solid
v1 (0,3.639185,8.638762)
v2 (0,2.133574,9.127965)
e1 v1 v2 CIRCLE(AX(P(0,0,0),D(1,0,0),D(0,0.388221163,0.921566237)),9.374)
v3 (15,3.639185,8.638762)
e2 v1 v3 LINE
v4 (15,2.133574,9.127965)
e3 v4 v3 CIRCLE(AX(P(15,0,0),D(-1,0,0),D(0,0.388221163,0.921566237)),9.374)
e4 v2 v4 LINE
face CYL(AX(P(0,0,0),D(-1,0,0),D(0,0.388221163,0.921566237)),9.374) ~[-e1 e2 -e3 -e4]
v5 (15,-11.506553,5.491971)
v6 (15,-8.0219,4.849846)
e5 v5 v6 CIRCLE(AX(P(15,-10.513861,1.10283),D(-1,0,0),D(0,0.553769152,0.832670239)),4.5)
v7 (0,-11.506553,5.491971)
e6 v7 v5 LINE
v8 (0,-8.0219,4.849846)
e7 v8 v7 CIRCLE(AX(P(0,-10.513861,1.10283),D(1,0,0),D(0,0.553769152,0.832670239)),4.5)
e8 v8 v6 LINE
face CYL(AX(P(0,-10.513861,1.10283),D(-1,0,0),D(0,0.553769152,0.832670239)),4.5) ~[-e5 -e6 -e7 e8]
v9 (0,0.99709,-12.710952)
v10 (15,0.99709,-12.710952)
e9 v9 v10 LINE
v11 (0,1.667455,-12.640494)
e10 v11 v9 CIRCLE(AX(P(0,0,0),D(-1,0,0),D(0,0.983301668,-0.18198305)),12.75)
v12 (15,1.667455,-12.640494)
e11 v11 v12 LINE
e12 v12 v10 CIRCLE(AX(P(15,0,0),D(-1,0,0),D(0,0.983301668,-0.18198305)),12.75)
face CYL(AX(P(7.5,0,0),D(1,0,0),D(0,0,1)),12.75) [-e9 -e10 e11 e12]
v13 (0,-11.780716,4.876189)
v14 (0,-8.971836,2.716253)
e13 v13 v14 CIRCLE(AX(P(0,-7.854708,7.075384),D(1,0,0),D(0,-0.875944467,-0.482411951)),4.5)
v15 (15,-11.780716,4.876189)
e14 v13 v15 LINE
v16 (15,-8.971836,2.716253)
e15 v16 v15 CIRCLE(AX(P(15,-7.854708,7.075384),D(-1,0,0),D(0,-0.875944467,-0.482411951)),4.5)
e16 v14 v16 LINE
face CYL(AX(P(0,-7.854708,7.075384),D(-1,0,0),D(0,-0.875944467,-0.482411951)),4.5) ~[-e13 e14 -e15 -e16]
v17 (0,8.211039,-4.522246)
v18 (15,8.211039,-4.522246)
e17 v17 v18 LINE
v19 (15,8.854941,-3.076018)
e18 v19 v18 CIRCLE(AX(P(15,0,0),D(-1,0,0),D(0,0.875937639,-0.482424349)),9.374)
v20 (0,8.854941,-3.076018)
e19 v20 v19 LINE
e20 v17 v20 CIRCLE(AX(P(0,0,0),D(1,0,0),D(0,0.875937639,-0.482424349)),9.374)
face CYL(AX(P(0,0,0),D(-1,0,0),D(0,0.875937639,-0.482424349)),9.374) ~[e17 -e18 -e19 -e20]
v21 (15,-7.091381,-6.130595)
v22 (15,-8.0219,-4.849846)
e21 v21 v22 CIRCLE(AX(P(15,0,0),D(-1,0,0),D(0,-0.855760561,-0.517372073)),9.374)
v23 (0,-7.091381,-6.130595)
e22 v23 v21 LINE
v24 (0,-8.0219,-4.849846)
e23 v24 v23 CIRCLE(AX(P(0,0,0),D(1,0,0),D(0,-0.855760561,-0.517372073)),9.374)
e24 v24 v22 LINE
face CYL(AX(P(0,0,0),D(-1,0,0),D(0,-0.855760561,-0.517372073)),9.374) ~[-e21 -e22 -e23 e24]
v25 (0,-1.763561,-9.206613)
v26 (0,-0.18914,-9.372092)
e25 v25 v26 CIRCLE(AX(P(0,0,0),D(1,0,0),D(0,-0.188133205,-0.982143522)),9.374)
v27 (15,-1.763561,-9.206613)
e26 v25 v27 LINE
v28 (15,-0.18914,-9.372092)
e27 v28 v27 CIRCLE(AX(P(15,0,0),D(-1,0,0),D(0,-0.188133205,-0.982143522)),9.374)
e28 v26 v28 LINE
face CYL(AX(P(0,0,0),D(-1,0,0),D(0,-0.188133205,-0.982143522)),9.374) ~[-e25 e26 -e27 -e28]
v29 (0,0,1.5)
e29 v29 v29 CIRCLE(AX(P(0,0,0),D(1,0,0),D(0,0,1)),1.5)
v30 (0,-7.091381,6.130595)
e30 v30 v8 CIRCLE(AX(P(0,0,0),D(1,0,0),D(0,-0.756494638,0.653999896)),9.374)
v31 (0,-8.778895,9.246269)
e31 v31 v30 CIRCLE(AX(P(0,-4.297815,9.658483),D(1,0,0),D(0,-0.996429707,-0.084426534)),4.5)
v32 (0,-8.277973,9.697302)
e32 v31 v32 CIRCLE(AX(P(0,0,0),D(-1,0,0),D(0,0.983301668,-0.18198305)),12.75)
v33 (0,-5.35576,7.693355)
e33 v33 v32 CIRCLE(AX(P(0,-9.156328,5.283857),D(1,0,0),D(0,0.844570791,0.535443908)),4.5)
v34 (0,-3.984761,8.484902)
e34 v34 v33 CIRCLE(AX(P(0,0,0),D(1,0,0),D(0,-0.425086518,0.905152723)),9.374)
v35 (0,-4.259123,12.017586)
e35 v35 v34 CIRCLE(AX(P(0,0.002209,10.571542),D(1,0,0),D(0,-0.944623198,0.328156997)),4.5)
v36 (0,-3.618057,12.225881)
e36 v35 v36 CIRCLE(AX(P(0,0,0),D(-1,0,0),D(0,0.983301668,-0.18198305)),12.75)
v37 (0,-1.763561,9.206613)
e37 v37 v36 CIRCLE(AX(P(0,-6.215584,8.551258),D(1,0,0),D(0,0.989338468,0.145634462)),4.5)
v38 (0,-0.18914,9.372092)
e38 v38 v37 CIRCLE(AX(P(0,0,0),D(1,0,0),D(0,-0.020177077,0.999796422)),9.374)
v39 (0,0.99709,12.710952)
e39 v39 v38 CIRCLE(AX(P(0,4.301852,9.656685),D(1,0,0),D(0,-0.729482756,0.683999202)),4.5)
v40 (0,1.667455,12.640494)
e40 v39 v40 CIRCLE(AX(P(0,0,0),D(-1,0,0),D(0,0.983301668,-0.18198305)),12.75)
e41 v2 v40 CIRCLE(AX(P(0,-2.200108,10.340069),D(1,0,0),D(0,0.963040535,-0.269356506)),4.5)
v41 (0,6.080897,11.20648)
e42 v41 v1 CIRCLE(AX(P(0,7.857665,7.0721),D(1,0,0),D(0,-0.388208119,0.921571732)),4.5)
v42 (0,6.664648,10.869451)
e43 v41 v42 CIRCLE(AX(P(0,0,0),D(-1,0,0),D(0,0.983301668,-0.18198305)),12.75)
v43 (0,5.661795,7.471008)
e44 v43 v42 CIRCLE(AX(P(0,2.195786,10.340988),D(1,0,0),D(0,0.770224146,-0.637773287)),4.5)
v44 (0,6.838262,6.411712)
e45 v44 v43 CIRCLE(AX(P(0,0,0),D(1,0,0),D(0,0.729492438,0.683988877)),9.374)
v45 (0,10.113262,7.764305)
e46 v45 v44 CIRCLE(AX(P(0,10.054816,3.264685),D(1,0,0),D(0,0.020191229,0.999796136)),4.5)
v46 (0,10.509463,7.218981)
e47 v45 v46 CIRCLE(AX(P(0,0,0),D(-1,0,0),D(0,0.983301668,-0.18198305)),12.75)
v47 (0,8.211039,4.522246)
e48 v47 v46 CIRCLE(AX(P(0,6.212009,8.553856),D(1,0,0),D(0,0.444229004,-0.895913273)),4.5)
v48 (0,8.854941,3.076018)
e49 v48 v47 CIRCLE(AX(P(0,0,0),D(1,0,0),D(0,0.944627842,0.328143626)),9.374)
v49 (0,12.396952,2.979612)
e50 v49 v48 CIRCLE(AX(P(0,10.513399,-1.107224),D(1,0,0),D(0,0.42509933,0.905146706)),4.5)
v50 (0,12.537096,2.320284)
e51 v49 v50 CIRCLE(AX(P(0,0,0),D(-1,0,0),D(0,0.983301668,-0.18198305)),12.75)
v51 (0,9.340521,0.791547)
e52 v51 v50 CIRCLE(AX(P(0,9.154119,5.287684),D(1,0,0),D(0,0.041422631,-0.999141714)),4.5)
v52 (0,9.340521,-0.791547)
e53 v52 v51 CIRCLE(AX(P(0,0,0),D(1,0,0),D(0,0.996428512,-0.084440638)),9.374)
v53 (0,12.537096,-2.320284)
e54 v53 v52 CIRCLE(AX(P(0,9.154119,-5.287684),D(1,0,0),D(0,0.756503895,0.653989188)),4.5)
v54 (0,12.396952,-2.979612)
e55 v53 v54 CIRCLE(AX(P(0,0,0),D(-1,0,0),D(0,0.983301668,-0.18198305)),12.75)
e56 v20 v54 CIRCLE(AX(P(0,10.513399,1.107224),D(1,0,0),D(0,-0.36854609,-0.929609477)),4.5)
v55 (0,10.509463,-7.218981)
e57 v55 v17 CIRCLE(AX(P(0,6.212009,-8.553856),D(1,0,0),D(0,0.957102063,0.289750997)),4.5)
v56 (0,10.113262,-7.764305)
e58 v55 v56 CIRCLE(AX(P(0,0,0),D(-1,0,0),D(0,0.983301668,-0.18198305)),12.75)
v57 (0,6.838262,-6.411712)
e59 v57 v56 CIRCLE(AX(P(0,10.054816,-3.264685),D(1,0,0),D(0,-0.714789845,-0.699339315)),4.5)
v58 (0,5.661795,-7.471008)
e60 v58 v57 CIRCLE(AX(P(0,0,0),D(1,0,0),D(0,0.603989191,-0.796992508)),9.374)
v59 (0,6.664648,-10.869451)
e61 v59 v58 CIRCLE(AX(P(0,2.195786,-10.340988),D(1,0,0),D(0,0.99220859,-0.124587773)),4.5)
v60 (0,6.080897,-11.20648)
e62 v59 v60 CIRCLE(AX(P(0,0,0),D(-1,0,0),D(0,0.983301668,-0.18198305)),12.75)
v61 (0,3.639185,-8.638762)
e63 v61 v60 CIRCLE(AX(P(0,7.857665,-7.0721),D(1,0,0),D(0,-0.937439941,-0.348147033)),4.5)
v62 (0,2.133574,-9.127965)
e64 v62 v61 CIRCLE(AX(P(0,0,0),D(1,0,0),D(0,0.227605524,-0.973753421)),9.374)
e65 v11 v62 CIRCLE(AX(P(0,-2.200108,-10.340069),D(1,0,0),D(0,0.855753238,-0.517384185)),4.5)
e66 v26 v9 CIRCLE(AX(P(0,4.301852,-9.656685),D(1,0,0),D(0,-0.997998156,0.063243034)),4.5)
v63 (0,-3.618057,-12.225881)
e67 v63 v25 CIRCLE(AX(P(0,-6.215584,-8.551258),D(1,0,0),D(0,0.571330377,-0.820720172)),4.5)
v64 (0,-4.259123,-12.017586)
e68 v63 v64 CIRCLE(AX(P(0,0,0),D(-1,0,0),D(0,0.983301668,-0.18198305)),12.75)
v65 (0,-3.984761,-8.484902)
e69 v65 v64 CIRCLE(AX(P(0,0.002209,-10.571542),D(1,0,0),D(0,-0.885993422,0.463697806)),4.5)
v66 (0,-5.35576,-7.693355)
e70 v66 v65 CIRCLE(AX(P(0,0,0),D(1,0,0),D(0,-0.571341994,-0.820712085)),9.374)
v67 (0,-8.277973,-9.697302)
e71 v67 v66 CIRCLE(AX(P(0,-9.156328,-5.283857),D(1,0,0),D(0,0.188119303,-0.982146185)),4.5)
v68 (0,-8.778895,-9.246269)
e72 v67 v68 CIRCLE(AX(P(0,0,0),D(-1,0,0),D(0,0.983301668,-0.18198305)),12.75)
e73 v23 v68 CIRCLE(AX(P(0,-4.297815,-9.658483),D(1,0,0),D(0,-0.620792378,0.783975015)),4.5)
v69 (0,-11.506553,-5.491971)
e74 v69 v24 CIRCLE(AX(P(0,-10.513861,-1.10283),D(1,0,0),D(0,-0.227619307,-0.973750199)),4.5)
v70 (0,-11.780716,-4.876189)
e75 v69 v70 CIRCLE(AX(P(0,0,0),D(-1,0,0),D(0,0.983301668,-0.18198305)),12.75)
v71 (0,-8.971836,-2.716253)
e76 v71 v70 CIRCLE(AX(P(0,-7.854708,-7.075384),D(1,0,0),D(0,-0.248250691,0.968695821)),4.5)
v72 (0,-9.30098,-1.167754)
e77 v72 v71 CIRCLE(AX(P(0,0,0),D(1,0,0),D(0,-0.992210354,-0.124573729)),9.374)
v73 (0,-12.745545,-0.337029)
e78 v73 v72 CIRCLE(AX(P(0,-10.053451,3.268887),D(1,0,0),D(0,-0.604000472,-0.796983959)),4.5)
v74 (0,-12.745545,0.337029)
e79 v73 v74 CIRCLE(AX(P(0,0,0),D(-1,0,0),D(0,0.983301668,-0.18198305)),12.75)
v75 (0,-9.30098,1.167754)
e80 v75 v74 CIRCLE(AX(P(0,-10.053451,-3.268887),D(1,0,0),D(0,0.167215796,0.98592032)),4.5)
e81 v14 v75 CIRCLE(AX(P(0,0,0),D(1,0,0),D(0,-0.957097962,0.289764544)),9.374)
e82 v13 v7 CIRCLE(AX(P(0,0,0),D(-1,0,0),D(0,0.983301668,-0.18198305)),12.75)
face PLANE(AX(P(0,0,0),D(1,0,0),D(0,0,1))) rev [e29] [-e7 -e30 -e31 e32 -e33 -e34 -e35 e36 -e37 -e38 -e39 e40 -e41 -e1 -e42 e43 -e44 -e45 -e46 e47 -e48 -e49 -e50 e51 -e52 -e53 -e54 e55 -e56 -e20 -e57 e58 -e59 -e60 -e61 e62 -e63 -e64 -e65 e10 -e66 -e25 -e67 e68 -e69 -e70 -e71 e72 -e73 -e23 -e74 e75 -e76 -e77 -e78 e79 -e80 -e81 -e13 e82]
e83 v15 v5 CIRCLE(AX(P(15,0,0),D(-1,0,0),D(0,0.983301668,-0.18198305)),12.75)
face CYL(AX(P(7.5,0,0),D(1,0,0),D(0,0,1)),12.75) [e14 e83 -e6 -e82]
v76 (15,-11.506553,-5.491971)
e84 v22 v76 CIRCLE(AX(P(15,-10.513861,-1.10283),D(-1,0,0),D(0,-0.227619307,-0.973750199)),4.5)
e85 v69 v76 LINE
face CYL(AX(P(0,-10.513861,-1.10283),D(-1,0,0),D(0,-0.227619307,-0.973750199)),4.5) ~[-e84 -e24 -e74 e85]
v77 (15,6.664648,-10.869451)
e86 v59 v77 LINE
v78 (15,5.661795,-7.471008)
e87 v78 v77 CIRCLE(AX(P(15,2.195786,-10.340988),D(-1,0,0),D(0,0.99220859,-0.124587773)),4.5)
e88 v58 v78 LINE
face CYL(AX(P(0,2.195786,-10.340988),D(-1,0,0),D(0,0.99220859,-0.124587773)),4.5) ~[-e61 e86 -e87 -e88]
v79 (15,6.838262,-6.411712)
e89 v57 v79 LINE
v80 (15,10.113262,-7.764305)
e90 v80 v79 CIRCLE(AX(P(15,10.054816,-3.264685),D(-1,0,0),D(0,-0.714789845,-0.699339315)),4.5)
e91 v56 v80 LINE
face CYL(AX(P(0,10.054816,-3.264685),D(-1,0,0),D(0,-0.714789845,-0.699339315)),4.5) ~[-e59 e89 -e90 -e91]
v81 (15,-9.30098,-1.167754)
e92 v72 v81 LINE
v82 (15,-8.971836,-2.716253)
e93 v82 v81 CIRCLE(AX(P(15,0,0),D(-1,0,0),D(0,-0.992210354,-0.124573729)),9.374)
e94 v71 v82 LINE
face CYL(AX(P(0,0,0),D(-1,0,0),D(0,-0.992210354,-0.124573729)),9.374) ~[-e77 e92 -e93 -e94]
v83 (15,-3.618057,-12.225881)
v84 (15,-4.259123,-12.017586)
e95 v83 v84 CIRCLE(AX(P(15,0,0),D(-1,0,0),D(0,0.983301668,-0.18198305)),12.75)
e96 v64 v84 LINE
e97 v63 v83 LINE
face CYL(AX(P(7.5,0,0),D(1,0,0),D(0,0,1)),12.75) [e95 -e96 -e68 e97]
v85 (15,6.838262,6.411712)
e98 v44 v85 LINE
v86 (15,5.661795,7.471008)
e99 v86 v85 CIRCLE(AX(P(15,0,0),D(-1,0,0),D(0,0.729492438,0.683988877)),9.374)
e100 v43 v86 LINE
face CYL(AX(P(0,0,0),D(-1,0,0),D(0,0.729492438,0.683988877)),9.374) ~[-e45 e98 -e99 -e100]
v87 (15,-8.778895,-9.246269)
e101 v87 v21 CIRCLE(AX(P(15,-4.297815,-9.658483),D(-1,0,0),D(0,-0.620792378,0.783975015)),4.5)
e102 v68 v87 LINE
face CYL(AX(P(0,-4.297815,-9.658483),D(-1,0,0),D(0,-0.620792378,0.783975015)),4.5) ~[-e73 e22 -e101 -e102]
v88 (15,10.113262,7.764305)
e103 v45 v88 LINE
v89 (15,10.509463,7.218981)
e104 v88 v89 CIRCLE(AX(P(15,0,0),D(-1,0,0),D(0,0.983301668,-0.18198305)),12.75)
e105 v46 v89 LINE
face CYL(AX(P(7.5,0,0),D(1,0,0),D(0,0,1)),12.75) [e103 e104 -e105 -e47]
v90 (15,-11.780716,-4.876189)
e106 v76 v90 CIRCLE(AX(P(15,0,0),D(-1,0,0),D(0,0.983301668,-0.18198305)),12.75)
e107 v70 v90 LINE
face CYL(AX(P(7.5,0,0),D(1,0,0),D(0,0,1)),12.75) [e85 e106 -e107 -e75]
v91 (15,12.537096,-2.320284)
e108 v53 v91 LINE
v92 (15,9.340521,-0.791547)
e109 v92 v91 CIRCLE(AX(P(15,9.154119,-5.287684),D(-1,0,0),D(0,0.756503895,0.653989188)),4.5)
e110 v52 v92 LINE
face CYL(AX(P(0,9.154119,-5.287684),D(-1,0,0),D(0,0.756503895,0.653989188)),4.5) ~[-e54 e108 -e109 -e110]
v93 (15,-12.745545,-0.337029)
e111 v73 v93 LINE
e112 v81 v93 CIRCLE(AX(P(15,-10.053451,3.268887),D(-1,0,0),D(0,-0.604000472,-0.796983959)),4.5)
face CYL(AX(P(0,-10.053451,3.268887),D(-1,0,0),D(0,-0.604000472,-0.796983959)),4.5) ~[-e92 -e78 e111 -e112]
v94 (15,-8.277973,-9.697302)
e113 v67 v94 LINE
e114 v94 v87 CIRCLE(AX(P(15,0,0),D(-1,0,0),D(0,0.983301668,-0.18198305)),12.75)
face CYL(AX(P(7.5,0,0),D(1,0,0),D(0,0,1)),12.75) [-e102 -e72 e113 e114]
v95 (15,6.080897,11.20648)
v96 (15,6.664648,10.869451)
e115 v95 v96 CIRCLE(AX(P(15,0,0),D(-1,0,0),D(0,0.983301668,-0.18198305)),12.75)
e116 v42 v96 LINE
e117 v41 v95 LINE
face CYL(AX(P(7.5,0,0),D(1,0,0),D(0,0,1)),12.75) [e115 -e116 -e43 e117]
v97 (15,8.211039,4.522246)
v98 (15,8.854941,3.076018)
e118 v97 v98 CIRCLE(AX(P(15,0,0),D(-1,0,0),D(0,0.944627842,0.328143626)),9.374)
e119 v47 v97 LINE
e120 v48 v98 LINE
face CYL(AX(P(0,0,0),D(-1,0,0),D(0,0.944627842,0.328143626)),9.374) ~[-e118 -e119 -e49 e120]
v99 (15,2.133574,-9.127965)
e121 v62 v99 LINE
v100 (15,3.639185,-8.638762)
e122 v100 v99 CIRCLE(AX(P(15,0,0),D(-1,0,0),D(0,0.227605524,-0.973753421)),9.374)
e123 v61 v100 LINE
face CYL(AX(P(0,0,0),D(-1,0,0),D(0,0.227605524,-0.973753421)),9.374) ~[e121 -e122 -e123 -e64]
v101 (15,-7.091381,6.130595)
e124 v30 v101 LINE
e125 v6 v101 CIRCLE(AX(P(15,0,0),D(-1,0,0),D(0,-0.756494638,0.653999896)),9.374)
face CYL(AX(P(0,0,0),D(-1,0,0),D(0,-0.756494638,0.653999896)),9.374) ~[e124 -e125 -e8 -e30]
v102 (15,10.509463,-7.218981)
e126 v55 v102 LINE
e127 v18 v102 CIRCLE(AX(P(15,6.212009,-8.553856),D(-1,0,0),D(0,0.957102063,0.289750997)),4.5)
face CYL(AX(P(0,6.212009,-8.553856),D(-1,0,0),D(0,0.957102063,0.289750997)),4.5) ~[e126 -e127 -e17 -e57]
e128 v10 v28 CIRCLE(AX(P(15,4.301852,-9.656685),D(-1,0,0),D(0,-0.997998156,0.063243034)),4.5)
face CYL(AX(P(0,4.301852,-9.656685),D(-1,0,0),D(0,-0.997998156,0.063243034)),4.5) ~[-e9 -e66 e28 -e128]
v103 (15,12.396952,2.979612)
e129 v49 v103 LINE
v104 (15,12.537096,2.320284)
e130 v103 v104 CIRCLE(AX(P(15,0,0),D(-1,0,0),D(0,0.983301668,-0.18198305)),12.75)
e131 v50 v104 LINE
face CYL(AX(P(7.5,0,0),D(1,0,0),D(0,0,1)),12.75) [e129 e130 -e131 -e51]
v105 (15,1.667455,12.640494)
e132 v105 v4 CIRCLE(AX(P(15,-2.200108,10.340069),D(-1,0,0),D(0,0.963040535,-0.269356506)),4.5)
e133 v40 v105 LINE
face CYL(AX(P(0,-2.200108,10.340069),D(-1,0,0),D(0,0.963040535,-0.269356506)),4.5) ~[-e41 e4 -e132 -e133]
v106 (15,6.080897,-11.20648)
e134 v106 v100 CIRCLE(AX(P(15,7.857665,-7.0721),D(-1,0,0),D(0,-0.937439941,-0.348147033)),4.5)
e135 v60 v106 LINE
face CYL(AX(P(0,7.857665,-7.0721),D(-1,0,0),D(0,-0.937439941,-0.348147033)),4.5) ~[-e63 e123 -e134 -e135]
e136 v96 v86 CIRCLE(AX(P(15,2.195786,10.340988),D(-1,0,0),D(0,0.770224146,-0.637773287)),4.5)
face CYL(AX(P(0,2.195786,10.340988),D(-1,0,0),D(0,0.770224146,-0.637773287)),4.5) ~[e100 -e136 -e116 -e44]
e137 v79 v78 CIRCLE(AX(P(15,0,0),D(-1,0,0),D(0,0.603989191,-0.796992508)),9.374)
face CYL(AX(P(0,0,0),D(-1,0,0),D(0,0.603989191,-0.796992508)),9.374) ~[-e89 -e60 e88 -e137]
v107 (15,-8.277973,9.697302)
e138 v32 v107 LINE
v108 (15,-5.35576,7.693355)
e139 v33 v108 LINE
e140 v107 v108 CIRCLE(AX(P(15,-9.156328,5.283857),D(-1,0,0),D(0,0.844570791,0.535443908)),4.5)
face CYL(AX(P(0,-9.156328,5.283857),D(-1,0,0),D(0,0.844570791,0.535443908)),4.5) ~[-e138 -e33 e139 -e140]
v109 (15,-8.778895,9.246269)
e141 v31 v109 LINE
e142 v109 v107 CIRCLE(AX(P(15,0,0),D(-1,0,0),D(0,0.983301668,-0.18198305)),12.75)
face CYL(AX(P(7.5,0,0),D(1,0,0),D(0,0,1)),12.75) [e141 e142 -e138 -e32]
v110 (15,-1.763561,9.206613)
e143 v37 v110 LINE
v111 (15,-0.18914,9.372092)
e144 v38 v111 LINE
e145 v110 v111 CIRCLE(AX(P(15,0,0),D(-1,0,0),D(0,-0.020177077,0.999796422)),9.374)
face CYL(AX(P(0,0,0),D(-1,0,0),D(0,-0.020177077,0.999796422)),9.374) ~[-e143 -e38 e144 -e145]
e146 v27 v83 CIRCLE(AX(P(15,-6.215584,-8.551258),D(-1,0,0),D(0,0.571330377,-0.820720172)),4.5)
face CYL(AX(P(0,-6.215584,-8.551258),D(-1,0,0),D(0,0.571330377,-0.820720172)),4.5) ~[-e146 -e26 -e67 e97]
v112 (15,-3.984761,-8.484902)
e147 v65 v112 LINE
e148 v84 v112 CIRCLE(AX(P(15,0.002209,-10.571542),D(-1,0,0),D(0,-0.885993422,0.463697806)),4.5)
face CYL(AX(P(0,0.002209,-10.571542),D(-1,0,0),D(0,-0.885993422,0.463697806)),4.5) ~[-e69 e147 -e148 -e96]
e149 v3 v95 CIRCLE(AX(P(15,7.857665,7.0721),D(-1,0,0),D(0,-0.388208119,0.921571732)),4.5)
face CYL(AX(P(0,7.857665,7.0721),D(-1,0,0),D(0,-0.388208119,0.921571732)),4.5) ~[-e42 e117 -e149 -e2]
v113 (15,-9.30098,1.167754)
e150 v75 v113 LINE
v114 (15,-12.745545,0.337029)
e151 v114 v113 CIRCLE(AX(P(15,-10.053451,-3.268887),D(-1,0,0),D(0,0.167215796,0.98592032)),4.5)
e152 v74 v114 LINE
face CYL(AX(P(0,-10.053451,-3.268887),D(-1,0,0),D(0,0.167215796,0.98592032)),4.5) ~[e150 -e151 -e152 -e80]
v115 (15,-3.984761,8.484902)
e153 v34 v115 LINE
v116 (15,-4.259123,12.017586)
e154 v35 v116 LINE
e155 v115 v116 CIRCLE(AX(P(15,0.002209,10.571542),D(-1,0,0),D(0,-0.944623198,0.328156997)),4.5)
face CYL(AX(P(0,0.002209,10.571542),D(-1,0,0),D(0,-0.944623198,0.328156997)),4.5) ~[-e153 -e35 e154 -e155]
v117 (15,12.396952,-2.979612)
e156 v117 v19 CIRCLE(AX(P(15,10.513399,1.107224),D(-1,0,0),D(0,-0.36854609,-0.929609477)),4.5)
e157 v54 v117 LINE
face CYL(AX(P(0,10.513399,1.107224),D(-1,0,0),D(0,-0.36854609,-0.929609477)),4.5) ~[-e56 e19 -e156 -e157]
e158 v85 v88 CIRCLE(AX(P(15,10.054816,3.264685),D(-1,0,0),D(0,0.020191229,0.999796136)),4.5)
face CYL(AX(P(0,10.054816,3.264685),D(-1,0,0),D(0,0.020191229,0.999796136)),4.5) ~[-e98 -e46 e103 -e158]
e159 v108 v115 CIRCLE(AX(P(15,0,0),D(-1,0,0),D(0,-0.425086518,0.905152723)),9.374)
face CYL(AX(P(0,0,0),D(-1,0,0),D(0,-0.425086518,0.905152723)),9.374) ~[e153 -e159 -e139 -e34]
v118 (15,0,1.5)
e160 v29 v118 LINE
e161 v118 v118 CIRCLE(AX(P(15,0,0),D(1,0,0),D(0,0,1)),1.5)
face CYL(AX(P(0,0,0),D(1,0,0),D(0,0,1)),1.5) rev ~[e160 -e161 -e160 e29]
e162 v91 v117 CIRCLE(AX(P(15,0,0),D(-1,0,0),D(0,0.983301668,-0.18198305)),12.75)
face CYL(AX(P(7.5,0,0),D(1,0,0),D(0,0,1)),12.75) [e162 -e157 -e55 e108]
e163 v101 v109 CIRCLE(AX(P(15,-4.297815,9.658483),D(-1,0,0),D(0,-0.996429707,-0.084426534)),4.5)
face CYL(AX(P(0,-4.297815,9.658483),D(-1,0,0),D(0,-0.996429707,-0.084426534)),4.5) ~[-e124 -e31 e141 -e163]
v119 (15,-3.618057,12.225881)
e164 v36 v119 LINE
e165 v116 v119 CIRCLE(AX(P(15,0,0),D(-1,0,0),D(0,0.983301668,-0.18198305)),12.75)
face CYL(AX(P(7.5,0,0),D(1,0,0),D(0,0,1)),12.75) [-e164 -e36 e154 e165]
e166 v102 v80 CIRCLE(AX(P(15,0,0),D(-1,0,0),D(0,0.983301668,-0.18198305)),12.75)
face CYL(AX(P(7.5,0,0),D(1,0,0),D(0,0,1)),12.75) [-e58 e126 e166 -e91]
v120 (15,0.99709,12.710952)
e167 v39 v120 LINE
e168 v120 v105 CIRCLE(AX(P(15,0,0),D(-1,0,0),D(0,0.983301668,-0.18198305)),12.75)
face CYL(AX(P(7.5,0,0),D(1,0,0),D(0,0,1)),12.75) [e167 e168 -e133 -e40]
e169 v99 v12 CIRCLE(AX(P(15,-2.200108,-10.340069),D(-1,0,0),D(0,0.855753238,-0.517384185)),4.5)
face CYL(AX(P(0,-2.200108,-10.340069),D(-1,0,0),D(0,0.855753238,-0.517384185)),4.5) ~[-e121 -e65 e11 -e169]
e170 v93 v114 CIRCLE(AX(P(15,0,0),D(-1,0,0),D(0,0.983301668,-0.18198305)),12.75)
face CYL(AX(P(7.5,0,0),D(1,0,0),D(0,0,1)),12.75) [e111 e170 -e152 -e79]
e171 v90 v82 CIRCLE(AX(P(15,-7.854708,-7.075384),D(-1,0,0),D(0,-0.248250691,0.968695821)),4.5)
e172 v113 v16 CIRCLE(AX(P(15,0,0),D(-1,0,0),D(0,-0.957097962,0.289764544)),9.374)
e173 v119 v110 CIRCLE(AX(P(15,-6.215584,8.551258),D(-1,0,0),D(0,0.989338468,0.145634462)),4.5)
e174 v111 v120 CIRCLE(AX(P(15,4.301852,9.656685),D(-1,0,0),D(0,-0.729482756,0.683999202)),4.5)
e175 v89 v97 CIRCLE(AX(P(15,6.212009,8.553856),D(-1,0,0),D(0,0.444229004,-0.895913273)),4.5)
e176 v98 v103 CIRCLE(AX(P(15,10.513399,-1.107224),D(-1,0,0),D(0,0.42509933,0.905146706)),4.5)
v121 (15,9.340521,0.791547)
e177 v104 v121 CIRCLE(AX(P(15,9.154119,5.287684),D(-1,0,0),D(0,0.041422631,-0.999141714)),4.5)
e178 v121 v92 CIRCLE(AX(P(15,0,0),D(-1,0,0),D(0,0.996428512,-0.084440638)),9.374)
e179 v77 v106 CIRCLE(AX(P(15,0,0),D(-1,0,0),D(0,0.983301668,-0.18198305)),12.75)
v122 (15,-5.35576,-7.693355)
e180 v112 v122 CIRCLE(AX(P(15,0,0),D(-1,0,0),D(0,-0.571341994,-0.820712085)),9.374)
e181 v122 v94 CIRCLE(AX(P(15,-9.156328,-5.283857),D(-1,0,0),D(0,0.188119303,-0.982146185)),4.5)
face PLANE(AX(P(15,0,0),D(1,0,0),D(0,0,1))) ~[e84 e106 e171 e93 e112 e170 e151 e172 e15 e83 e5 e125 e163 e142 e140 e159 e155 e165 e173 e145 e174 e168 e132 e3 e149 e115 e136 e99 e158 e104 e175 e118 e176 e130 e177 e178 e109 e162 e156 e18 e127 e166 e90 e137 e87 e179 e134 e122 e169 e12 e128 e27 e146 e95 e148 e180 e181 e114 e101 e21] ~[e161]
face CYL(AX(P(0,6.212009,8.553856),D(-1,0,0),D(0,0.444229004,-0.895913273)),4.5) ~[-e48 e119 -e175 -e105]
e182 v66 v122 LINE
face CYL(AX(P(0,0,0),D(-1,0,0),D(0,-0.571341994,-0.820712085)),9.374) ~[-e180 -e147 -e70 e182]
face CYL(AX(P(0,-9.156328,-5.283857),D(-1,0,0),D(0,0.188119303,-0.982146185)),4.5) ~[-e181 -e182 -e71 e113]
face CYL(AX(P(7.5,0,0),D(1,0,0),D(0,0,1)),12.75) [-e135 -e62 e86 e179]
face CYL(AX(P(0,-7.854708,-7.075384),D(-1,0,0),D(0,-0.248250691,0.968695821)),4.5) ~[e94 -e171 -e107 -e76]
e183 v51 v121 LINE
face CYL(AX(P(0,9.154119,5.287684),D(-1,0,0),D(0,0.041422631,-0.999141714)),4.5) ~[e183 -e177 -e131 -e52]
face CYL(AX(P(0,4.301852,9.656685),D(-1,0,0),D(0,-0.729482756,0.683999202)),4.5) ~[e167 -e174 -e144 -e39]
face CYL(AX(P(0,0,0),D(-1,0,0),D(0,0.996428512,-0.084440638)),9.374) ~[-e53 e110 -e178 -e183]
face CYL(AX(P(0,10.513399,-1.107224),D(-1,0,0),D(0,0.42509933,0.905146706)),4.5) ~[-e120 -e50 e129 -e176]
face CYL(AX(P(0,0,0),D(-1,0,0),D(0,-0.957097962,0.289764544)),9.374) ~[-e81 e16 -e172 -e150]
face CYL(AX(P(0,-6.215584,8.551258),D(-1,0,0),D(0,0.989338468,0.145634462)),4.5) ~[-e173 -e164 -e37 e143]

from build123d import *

# Parameters (mm, degrees)
BASPROSKE_W     = 15
BASPROSKE_H     = 12.75
TOOTHCUT_DEPTH  = 24.454743657
TEETHCUTS_COUNT = 15
TEETHCUTS_ANGLE = 336
BORSKE_R        = 1.5
BORE_DEPTH      = 50.0000508


with BuildPart() as part:
    # BasProSke → Base-Revolve (revolve)
    with BuildSketch(Plane(origin=(0, 0, 0), x_dir=(1, 0, 0), z_dir=(0, 1, 0)), mode=Mode.PRIVATE) as base_revolve_sk:
        with Locations((7.5, 6.375)):
            Rectangle(BASPROSKE_W, BASPROSKE_H)
    revolve(base_revolve_sk.sketch.rotate(Axis((-10, 0, 0), (1, 0, 0)), 180), axis=Axis((-10, 0, 0), (1, 0, 0)))

    # TooCutSke → ToothCut (cut, through all)
    with BuildSketch(Plane(origin=(0, 0, 0), x_dir=(0, 0, -1), z_dir=(1, 0, 0))):
        with BuildLine():
            ThreePointArc((0.791546546, 9.340520867), (0, 9.374), (-0.791546546, 9.340520867))
            ThreePointArc((-0.791546546, 9.340520867), (-1.235070734, 11.110218102), (-2.344732916, 12.558386549))
            ThreePointArc((-2.344732916, 12.558386549), (0, 12.7754), (2.344732916, 12.558386549))
            ThreePointArc((2.344732916, 12.558386549), (1.235070734, 11.110218102), (0.791546546, 9.340520867))
        make_face()
    toothcut = extrude(amount=TOOTHCUT_DEPTH, mode=Mode.SUBTRACT)

    # TeethCuts: ToothCut ×15 about axis
    teethcuts_axis = Axis((-10, 0, 0), (1, 0, 0))
    for i in range(1, TEETHCUTS_COUNT):
        add(toothcut.rotate(teethcuts_axis, i * TEETHCUTS_ANGLE / (TEETHCUTS_COUNT - 1)), mode=Mode.SUBTRACT)

    # BorSke → Bore (cut, symmetric)
    with BuildSketch(Plane(origin=(0, 0, 0), x_dir=(0, 0, -1), z_dir=(1, 0, 0))):
        with Locations(Location((0, 0, 0), (0, 0, 180))):
            Circle(BORSKE_R)
    extrude(amount=BORE_DEPTH, both=True, mode=Mode.SUBTRACT)


solid = part.part
